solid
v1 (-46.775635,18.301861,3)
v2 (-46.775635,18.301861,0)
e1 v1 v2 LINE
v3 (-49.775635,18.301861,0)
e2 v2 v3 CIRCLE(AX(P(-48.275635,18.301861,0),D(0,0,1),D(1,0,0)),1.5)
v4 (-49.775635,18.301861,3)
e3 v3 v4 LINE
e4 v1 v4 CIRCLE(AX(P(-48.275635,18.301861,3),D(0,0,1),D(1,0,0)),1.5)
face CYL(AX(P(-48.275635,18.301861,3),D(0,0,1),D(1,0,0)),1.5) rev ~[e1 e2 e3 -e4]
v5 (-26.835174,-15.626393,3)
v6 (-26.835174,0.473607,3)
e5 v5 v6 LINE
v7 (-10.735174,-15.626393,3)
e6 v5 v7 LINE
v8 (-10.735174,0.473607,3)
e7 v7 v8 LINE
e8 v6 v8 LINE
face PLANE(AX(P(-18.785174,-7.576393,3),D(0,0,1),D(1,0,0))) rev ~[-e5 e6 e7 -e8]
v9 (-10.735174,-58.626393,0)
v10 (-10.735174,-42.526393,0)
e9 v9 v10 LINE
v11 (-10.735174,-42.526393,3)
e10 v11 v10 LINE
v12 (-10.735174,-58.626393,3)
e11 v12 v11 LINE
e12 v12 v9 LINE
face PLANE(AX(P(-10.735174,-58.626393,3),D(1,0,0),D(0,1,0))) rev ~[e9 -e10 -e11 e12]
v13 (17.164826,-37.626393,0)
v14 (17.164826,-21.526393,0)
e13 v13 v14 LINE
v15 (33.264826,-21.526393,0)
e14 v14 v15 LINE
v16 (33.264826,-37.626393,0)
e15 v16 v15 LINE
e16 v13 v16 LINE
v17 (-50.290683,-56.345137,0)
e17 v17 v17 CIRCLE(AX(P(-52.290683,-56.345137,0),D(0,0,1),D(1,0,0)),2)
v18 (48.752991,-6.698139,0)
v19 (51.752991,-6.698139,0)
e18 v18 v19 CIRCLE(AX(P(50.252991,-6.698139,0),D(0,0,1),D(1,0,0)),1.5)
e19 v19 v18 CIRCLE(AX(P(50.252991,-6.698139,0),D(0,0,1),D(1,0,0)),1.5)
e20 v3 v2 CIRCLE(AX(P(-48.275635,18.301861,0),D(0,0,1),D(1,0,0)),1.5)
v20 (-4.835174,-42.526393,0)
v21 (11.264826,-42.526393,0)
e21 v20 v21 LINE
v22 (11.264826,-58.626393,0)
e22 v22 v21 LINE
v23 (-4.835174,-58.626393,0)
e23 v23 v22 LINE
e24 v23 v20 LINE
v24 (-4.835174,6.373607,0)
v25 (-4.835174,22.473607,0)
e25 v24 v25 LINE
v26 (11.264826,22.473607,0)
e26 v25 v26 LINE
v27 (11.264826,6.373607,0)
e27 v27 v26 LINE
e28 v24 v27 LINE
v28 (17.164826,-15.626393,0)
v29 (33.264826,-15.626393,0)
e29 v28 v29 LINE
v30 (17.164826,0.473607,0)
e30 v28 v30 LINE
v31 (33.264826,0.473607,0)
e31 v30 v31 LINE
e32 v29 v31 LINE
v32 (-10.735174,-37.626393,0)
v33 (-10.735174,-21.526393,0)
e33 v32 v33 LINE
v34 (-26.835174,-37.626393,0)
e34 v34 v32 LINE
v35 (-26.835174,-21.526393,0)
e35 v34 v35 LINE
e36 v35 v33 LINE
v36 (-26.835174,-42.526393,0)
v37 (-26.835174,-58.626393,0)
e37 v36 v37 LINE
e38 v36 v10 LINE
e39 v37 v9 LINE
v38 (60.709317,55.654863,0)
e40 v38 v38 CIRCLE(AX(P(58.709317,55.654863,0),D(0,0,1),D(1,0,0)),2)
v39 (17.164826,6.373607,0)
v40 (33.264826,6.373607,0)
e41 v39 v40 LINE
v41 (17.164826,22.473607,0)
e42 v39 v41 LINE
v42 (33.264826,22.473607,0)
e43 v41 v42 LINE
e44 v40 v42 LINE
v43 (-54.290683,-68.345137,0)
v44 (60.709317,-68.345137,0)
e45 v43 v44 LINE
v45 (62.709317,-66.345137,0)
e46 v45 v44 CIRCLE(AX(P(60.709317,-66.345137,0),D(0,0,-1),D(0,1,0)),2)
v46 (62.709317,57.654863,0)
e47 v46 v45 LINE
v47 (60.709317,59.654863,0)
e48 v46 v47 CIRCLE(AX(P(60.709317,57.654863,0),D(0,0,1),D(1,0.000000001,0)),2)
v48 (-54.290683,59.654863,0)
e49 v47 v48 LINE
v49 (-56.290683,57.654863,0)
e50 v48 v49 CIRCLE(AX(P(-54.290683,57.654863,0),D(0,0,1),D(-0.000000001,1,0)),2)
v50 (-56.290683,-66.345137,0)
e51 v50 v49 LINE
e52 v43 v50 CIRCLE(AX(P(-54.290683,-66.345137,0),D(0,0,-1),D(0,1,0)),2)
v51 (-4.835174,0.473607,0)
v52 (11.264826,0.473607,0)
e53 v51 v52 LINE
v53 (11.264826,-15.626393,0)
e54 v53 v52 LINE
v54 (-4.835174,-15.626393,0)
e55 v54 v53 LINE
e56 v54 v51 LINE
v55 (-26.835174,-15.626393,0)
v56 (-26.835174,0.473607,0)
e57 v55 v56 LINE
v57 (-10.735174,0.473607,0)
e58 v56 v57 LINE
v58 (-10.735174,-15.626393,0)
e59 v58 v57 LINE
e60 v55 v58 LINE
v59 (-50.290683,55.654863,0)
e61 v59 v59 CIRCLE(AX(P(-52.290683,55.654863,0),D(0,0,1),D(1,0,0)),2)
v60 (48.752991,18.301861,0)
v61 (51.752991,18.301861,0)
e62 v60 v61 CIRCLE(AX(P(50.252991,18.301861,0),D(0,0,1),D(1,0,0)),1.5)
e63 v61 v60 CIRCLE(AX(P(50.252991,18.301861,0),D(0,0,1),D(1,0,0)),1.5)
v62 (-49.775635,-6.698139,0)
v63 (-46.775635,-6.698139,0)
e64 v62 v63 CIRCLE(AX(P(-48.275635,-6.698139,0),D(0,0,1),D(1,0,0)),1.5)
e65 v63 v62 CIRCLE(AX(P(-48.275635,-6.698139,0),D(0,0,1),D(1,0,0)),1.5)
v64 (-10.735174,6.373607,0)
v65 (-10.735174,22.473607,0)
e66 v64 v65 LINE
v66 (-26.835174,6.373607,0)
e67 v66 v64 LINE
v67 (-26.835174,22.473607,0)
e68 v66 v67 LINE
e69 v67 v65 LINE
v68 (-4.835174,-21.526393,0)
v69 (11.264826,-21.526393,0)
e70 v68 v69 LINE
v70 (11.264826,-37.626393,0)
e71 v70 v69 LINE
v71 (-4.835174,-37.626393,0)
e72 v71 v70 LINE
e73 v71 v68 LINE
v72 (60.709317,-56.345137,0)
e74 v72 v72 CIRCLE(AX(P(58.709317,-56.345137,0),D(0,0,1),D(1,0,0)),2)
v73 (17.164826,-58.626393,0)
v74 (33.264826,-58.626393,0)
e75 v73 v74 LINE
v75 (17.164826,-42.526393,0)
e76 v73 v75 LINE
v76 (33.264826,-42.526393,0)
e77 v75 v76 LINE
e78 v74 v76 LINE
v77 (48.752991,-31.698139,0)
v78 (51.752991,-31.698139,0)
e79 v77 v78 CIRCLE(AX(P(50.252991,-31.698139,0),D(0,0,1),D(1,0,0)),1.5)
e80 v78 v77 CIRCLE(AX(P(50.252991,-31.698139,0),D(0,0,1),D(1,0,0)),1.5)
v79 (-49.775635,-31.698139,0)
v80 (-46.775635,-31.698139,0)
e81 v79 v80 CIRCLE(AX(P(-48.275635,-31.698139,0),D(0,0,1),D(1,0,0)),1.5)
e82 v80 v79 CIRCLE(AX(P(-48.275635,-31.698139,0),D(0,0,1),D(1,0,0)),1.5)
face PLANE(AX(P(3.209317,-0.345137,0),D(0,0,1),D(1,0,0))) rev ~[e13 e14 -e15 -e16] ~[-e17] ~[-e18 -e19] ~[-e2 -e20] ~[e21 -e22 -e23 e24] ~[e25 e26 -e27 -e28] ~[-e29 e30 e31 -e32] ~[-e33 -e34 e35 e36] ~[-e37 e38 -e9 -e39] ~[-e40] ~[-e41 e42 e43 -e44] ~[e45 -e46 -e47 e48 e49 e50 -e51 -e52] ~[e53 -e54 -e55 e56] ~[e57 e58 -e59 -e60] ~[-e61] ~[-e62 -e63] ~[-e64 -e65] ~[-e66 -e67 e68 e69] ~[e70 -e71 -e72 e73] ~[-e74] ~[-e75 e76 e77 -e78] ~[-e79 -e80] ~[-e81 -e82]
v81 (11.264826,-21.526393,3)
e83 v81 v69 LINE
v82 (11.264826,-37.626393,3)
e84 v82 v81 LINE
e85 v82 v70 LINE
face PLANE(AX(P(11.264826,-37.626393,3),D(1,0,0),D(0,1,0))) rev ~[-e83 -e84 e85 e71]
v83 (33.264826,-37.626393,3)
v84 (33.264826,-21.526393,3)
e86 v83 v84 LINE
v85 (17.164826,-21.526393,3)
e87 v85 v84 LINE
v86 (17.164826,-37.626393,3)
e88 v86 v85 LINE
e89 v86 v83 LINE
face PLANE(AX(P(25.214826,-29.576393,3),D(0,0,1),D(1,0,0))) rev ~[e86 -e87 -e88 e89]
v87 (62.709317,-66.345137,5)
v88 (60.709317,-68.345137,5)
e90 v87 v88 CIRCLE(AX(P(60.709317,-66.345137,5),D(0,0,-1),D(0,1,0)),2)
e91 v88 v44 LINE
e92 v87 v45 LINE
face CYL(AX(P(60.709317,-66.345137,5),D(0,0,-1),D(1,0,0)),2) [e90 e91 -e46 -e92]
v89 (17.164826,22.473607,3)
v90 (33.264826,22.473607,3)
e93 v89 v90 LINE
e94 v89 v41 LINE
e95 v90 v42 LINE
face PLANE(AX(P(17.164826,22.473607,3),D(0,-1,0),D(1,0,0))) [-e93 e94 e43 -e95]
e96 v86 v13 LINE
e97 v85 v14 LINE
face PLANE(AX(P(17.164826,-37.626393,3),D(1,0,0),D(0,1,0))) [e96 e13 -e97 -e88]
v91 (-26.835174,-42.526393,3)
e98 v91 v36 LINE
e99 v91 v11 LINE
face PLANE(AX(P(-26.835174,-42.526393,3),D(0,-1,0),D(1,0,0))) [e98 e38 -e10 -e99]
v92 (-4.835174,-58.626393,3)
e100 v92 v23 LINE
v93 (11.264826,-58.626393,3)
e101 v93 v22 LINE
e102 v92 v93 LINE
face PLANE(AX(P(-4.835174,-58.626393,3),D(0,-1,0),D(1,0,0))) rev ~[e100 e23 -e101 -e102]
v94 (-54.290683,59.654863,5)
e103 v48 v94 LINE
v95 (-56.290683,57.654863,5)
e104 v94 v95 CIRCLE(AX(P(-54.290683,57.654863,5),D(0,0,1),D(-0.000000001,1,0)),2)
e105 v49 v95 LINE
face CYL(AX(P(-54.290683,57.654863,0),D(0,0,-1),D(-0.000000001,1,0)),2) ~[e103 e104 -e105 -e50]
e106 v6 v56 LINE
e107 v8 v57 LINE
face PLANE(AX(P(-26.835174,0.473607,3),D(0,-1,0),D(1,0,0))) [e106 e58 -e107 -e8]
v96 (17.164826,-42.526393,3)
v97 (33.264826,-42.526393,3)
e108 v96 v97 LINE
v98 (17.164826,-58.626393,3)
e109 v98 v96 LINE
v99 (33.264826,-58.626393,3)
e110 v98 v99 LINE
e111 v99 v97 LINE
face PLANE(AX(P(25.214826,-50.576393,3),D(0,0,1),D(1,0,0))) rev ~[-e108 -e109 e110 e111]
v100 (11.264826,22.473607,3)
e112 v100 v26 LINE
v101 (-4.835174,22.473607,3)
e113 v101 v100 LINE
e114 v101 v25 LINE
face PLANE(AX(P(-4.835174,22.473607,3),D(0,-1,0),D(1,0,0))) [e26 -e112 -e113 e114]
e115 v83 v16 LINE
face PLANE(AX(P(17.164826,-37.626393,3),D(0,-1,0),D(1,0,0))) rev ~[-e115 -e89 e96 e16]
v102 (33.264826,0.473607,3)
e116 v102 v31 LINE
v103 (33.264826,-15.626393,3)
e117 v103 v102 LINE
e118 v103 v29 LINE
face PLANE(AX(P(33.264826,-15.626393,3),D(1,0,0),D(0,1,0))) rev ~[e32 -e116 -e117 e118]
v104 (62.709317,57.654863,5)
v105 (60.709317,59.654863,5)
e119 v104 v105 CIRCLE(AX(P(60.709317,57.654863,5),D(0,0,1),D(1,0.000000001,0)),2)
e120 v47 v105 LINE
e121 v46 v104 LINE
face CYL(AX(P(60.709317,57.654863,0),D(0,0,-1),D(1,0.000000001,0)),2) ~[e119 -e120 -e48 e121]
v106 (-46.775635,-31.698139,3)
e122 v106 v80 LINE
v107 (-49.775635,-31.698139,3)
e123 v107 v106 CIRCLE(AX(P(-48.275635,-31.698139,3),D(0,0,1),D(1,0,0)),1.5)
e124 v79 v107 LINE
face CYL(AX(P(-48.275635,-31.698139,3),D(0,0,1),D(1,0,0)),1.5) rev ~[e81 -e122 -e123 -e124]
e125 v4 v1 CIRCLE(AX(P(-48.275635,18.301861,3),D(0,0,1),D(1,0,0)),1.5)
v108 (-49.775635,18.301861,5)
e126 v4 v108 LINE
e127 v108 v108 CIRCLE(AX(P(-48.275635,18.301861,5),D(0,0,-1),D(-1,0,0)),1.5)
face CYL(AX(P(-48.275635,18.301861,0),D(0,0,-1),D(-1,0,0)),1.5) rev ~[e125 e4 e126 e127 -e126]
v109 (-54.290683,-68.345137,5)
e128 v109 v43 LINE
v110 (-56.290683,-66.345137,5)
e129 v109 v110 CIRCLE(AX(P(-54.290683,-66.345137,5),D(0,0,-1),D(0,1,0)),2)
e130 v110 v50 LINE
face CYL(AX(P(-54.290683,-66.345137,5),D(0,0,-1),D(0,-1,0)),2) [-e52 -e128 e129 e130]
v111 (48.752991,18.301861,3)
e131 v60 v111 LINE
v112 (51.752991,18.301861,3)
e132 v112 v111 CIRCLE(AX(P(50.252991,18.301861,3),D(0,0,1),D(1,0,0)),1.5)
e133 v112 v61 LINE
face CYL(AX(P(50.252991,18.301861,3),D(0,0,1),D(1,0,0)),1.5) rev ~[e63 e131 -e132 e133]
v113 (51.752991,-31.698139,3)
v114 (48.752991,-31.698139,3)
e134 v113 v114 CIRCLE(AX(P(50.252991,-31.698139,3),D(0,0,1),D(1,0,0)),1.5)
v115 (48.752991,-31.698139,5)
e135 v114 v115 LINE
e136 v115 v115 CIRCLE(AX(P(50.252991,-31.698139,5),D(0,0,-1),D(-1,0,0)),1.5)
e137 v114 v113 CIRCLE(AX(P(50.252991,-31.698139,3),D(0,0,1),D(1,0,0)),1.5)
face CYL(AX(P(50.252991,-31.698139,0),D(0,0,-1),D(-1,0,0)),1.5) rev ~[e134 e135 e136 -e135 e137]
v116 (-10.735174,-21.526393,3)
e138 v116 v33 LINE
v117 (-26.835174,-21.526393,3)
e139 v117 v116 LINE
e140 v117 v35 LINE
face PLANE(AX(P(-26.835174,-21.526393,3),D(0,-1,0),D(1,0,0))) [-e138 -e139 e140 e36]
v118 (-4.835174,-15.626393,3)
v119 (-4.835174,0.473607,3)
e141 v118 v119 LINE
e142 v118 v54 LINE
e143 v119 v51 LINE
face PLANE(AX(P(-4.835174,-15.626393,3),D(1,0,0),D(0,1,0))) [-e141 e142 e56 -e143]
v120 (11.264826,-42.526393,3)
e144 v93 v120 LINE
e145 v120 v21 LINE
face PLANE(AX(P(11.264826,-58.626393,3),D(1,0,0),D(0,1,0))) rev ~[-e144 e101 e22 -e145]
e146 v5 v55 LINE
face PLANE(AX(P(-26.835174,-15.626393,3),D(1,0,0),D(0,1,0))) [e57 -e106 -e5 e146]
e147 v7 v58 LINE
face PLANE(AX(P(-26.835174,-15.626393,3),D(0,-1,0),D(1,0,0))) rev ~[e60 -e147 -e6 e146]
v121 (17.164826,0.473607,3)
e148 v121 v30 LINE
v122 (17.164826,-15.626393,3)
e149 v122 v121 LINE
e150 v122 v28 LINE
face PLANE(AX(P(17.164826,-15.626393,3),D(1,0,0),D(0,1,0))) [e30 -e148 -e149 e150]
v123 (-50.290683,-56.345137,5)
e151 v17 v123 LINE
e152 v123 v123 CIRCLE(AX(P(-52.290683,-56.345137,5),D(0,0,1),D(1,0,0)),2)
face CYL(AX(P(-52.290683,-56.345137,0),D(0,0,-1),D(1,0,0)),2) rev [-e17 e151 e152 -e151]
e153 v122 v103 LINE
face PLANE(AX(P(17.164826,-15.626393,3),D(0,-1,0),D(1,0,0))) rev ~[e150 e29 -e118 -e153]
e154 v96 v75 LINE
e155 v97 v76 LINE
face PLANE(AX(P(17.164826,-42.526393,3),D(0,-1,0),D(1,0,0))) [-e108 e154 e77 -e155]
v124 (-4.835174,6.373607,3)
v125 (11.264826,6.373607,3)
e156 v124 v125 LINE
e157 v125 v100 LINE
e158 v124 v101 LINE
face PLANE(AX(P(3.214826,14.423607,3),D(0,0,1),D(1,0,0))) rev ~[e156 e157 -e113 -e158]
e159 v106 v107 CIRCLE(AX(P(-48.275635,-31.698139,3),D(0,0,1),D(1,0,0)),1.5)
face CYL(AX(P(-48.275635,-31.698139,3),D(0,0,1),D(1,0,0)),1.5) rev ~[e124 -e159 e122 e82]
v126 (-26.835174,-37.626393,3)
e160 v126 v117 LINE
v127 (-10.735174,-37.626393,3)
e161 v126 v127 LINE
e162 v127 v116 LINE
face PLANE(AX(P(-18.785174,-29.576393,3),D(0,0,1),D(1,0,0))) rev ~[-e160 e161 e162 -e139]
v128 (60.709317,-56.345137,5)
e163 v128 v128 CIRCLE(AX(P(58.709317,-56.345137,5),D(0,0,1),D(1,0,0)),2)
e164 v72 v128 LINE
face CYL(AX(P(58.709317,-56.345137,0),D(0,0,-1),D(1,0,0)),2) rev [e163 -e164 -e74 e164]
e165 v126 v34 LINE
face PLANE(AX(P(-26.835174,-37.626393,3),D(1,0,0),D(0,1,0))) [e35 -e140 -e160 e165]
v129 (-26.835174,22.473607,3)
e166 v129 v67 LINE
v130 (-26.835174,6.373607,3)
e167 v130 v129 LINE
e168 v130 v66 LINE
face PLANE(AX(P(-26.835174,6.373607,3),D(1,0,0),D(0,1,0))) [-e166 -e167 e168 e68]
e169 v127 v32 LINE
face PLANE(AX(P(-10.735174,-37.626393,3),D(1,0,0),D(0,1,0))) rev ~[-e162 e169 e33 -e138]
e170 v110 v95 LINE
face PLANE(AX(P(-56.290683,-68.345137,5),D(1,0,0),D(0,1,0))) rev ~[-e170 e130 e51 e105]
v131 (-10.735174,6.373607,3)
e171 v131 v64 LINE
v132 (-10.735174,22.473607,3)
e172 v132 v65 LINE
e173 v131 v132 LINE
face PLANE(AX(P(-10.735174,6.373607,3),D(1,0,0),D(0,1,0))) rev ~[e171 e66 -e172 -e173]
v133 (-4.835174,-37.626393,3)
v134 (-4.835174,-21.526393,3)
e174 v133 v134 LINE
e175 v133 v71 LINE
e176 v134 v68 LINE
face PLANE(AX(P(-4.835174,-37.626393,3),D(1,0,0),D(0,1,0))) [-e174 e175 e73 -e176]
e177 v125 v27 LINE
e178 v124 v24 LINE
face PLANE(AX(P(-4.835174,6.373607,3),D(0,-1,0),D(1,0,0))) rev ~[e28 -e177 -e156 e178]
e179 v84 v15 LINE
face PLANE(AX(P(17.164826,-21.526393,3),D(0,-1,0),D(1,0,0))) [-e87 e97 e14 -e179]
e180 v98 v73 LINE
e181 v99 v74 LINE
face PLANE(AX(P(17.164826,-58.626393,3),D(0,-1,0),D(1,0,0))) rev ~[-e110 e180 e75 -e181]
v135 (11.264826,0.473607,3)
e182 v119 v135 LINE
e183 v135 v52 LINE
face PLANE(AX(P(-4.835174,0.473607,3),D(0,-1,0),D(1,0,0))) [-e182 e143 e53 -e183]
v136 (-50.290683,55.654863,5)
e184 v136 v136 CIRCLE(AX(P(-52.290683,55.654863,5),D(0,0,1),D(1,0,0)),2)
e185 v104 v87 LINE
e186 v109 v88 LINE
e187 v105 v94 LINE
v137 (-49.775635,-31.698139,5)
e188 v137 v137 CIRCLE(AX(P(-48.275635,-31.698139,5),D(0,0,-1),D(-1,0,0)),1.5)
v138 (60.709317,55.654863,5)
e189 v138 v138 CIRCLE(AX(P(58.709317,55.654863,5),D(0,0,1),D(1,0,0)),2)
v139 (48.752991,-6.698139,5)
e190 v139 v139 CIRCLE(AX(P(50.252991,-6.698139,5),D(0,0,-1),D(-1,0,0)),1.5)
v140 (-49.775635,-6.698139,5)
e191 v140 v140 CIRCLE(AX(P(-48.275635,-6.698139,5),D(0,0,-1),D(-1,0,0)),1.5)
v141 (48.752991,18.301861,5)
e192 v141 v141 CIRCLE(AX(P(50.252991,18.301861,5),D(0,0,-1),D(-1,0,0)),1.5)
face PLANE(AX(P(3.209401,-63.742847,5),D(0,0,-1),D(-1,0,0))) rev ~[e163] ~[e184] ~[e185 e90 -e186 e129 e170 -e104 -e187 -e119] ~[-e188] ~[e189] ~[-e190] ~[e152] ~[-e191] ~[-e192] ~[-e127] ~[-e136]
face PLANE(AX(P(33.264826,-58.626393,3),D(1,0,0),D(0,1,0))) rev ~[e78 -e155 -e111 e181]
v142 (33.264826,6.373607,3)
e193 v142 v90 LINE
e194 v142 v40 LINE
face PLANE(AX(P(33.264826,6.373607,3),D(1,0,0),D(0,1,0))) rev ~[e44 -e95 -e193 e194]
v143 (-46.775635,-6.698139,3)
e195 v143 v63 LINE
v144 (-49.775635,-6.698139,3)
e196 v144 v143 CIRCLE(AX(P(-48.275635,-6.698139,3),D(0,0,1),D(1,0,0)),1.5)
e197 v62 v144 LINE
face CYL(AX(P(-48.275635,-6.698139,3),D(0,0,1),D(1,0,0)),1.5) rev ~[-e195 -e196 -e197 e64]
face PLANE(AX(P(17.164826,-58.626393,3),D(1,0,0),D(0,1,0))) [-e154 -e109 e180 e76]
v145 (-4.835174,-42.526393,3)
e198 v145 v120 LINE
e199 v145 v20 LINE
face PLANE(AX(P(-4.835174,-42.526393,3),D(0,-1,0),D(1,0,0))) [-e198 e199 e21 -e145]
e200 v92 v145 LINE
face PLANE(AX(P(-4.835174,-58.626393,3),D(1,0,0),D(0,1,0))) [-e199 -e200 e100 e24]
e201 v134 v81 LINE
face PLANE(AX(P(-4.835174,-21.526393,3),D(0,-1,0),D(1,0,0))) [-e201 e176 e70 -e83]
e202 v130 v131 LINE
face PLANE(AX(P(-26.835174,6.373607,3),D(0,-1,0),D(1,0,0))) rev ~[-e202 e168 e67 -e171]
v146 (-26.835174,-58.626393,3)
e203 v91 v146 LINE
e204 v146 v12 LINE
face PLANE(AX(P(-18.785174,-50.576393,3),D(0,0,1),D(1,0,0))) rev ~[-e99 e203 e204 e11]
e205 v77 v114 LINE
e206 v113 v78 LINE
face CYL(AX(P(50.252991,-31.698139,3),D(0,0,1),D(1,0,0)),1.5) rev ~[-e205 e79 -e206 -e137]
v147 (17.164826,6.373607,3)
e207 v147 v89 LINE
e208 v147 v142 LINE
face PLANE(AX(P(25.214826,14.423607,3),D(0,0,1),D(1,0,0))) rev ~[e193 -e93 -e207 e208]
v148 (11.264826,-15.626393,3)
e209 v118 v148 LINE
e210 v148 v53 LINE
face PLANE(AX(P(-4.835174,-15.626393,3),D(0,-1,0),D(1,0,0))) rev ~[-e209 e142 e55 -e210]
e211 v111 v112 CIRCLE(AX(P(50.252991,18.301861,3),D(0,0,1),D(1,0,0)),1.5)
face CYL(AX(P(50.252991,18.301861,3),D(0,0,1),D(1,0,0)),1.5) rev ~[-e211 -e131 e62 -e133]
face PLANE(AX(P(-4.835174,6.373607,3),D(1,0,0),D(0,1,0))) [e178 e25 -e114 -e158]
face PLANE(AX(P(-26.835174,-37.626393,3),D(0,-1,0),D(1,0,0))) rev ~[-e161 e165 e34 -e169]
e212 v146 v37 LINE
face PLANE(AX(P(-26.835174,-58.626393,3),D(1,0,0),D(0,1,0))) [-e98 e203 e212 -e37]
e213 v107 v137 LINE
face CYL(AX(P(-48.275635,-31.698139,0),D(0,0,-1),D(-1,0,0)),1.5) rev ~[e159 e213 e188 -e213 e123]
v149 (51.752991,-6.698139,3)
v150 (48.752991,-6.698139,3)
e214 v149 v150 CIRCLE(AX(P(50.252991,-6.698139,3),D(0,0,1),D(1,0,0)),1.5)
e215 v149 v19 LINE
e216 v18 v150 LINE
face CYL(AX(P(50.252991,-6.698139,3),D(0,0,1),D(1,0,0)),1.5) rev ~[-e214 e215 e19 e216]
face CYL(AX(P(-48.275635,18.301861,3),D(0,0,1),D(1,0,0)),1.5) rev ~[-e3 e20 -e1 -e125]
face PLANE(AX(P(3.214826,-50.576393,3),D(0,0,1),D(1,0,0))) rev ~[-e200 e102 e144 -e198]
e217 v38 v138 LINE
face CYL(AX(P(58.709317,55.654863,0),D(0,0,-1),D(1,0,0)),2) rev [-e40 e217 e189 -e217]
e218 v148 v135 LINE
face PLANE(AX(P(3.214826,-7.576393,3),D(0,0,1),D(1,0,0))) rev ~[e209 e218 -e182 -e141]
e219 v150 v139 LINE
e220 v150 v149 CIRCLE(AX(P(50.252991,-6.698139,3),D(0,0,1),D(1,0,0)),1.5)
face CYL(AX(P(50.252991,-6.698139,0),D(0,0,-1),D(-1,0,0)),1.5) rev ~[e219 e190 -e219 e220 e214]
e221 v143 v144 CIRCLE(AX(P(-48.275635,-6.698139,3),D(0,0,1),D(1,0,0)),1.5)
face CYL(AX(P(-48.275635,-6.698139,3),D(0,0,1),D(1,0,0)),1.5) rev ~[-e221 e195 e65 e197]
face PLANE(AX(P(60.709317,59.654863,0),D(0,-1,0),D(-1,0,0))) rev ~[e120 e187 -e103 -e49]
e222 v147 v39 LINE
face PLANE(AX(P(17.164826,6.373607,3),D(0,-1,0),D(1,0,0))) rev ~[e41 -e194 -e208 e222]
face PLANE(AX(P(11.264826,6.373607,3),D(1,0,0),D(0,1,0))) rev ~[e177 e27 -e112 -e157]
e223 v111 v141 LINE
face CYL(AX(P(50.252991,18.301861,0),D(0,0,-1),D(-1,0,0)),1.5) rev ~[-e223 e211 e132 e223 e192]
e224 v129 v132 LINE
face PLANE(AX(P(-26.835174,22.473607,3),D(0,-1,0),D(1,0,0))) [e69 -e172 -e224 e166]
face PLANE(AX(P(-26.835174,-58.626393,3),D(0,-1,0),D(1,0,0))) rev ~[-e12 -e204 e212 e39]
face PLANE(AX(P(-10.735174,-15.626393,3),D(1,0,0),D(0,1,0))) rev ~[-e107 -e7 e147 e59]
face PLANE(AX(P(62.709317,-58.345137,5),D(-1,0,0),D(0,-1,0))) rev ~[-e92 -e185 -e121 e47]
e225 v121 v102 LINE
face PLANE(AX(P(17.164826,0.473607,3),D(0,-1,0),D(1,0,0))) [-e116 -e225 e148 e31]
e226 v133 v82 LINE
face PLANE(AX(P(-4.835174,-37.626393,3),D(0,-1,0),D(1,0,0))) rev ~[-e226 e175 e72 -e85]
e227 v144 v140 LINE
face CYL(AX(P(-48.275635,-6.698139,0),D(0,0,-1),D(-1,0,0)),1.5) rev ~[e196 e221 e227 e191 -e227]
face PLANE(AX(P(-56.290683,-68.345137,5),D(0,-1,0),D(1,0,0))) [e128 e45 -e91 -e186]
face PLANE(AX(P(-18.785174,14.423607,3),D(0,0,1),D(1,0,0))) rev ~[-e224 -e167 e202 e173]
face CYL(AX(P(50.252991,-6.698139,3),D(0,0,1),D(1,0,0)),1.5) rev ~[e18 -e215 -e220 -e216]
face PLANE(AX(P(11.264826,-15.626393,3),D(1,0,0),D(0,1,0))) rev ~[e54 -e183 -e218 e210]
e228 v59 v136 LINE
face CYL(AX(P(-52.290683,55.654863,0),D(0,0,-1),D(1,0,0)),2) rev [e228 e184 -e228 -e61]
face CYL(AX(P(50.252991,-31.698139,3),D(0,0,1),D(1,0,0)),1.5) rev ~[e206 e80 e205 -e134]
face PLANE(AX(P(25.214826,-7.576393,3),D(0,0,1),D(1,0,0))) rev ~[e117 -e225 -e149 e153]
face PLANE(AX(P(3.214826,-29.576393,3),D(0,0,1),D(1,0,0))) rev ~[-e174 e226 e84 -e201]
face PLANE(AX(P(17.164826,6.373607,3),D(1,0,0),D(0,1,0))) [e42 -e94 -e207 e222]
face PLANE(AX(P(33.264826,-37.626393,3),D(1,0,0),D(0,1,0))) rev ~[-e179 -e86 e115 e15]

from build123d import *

# Parameters (mm, degrees)
SKETCH_1_R          = 2
EXTRUDE_1_DEPTH     = 5
SKETCH_5_R          = 1.5
SKETCH_5_W          = 16.1
SKETCH_5_H          = 16.1
CUT_EXTRUDE_1_DEPTH = 4
EXTRUDE_2_DEPTH     = 5
FILLET_1_R          = 2
SKETCH_9_R          = 1.5
CUT_EXTRUDE_2_DEPTH = 10


with BuildPart() as part:
    # 草图1 → 凸台-拉伸1 (new body)
    with BuildSketch(Plane.XY):
        with BuildLine():
            Line((62.7093167, -58.345136948), (62.7093167, 57.654863052))
            ThreePointArc((62.7093167, 57.654863052), (62.123530262, 59.069076614), (60.7093167, 59.654863052))
            Line((60.7093167, 59.654863052), (-54.2906833, 59.654863052))
            ThreePointArc((-54.2906833, 59.654863052), (-55.704896862, 59.069076614), (-56.2906833, 57.654863052))
            Line((-56.2906833, 57.654863052), (-56.2906833, -58.345136948))
            ThreePointArc((-56.2906833, -58.345136948), (-55.704896862, -59.759350511), (-54.2906833, -60.345136948))
            Line((-54.2906833, -60.345136948), (60.7093167, -60.345136948))
            ThreePointArc((60.7093167, -60.345136948), (62.123530262, -59.759350511), (62.7093167, -58.345136948))
        make_face()
        with Locations((-52.2906833, -56.345136948)):
            Circle(SKETCH_1_R, mode=Mode.SUBTRACT)
        with Locations((58.7093167, -56.345136948)):
            Circle(SKETCH_1_R, mode=Mode.SUBTRACT)
        with Locations((58.7093167, 55.654863052)):
            Circle(SKETCH_1_R, mode=Mode.SUBTRACT)
        with Locations((-52.2906833, 55.654863052)):
            Circle(SKETCH_1_R, mode=Mode.SUBTRACT)
    extrude(amount=EXTRUDE_1_DEPTH)

    # 草图5 → 切除-拉伸1 (cut, through all)
    with BuildSketch(Plane.XY.offset(3)):
        with Locations((-48.275635297, 18.301860934)):
            Circle(SKETCH_5_R)
        with Locations((50.252991339, 18.301860934)):
            Circle(SKETCH_5_R)
        with Locations((-48.275635297, -6.698139066)):
            Circle(SKETCH_5_R)
        with Locations((50.252991339, -6.698139066)):
            Circle(SKETCH_5_R)
        with Locations((-48.275635297, -31.698139066)):
            Circle(SKETCH_5_R)
        with Locations((50.252991339, -31.698139066)):
            Circle(SKETCH_5_R)
        with Locations((25.214825615, -7.576393001)):
            Rectangle(SKETCH_5_W, SKETCH_5_H)
        with Locations((25.214825615, 14.423606999)):
            Rectangle(SKETCH_5_W, SKETCH_5_H)
        with Locations((3.214825615, -7.576393001)):
            Rectangle(SKETCH_5_W, SKETCH_5_H)
        with Locations((-18.785174385, 14.423606999)):
            Rectangle(SKETCH_5_W, SKETCH_5_H)
        with Locations((-18.785174385, -7.576393001)):
            Rectangle(SKETCH_5_W, SKETCH_5_H)
        with Locations((-18.785174385, -29.576393001)):
            Rectangle(SKETCH_5_W, SKETCH_5_H)
        with Locations((3.214825615, 14.423606999)):
            Rectangle(SKETCH_5_W, SKETCH_5_H)
        with Locations((3.214825615, -29.576393001)):
            Rectangle(SKETCH_5_W, SKETCH_5_H)
        with Locations((25.214825615, -29.576393001)):
            Rectangle(SKETCH_5_W, SKETCH_5_H)
        with Locations((25.214825615, -50.576393001)):
            Rectangle(SKETCH_5_W, SKETCH_5_H)
        with Locations((3.214825615, -50.576393001)):
            Rectangle(SKETCH_5_W, SKETCH_5_H)
        with Locations((-18.785174385, -50.576393001)):
            Rectangle(SKETCH_5_W, SKETCH_5_H)
    extrude(amount=-CUT_EXTRUDE_1_DEPTH, mode=Mode.SUBTRACT)

    # 草图8 → 凸台-拉伸2 (add)
    with BuildSketch(Plane.XY.offset(5)):
        Polygon((-56.2906833, -58.345136948), (-26.835174385, -58.345136948), (-26.835174385, -60.345136948), (33.264825615, -60.345136948), (33.264825615, -58.345136948), (62.7093167, -58.345136948), (62.7093167, -68.345136948), (33.264825615, -68.345136948), (-26.835174385, -68.345136948), (-56.2906833, -68.345136948), align=None)
    extrude(amount=-EXTRUDE_2_DEPTH)

    # 圆角1
    fillet_1_edges = [part.edges().sort_by_distance(p)[0] for p in [
        (-56.2906833, -68.345136948, 2.5),
        (62.7093167, -68.345136948, 2.5),
    ]]
    fillet(fillet_1_edges, radius=FILLET_1_R)

    # 草图9 → 切除-拉伸2 (cut)
    with BuildSketch(Plane(origin=(0, 0, 0), x_dir=(-1, 0, 0), z_dir=(0, 0, -1))):
        with Locations((-50.252991339, -6.698139066)):
            Circle(SKETCH_9_R)
        with Locations((-50.252991339, -31.698139066)):
            Circle(SKETCH_9_R)
        with Locations((48.275635297, -31.698139066)):
            Circle(SKETCH_9_R)
        with Locations((48.275635297, -6.698139066)):
            Circle(SKETCH_9_R)
        with Locations((48.275635297, 18.301860934)):
            Circle(SKETCH_9_R)
        with Locations((-50.252991339, 18.301860934)):
            Circle(SKETCH_9_R)
    extrude(amount=-CUT_EXTRUDE_2_DEPTH, mode=Mode.SUBTRACT)


solid = part.part
